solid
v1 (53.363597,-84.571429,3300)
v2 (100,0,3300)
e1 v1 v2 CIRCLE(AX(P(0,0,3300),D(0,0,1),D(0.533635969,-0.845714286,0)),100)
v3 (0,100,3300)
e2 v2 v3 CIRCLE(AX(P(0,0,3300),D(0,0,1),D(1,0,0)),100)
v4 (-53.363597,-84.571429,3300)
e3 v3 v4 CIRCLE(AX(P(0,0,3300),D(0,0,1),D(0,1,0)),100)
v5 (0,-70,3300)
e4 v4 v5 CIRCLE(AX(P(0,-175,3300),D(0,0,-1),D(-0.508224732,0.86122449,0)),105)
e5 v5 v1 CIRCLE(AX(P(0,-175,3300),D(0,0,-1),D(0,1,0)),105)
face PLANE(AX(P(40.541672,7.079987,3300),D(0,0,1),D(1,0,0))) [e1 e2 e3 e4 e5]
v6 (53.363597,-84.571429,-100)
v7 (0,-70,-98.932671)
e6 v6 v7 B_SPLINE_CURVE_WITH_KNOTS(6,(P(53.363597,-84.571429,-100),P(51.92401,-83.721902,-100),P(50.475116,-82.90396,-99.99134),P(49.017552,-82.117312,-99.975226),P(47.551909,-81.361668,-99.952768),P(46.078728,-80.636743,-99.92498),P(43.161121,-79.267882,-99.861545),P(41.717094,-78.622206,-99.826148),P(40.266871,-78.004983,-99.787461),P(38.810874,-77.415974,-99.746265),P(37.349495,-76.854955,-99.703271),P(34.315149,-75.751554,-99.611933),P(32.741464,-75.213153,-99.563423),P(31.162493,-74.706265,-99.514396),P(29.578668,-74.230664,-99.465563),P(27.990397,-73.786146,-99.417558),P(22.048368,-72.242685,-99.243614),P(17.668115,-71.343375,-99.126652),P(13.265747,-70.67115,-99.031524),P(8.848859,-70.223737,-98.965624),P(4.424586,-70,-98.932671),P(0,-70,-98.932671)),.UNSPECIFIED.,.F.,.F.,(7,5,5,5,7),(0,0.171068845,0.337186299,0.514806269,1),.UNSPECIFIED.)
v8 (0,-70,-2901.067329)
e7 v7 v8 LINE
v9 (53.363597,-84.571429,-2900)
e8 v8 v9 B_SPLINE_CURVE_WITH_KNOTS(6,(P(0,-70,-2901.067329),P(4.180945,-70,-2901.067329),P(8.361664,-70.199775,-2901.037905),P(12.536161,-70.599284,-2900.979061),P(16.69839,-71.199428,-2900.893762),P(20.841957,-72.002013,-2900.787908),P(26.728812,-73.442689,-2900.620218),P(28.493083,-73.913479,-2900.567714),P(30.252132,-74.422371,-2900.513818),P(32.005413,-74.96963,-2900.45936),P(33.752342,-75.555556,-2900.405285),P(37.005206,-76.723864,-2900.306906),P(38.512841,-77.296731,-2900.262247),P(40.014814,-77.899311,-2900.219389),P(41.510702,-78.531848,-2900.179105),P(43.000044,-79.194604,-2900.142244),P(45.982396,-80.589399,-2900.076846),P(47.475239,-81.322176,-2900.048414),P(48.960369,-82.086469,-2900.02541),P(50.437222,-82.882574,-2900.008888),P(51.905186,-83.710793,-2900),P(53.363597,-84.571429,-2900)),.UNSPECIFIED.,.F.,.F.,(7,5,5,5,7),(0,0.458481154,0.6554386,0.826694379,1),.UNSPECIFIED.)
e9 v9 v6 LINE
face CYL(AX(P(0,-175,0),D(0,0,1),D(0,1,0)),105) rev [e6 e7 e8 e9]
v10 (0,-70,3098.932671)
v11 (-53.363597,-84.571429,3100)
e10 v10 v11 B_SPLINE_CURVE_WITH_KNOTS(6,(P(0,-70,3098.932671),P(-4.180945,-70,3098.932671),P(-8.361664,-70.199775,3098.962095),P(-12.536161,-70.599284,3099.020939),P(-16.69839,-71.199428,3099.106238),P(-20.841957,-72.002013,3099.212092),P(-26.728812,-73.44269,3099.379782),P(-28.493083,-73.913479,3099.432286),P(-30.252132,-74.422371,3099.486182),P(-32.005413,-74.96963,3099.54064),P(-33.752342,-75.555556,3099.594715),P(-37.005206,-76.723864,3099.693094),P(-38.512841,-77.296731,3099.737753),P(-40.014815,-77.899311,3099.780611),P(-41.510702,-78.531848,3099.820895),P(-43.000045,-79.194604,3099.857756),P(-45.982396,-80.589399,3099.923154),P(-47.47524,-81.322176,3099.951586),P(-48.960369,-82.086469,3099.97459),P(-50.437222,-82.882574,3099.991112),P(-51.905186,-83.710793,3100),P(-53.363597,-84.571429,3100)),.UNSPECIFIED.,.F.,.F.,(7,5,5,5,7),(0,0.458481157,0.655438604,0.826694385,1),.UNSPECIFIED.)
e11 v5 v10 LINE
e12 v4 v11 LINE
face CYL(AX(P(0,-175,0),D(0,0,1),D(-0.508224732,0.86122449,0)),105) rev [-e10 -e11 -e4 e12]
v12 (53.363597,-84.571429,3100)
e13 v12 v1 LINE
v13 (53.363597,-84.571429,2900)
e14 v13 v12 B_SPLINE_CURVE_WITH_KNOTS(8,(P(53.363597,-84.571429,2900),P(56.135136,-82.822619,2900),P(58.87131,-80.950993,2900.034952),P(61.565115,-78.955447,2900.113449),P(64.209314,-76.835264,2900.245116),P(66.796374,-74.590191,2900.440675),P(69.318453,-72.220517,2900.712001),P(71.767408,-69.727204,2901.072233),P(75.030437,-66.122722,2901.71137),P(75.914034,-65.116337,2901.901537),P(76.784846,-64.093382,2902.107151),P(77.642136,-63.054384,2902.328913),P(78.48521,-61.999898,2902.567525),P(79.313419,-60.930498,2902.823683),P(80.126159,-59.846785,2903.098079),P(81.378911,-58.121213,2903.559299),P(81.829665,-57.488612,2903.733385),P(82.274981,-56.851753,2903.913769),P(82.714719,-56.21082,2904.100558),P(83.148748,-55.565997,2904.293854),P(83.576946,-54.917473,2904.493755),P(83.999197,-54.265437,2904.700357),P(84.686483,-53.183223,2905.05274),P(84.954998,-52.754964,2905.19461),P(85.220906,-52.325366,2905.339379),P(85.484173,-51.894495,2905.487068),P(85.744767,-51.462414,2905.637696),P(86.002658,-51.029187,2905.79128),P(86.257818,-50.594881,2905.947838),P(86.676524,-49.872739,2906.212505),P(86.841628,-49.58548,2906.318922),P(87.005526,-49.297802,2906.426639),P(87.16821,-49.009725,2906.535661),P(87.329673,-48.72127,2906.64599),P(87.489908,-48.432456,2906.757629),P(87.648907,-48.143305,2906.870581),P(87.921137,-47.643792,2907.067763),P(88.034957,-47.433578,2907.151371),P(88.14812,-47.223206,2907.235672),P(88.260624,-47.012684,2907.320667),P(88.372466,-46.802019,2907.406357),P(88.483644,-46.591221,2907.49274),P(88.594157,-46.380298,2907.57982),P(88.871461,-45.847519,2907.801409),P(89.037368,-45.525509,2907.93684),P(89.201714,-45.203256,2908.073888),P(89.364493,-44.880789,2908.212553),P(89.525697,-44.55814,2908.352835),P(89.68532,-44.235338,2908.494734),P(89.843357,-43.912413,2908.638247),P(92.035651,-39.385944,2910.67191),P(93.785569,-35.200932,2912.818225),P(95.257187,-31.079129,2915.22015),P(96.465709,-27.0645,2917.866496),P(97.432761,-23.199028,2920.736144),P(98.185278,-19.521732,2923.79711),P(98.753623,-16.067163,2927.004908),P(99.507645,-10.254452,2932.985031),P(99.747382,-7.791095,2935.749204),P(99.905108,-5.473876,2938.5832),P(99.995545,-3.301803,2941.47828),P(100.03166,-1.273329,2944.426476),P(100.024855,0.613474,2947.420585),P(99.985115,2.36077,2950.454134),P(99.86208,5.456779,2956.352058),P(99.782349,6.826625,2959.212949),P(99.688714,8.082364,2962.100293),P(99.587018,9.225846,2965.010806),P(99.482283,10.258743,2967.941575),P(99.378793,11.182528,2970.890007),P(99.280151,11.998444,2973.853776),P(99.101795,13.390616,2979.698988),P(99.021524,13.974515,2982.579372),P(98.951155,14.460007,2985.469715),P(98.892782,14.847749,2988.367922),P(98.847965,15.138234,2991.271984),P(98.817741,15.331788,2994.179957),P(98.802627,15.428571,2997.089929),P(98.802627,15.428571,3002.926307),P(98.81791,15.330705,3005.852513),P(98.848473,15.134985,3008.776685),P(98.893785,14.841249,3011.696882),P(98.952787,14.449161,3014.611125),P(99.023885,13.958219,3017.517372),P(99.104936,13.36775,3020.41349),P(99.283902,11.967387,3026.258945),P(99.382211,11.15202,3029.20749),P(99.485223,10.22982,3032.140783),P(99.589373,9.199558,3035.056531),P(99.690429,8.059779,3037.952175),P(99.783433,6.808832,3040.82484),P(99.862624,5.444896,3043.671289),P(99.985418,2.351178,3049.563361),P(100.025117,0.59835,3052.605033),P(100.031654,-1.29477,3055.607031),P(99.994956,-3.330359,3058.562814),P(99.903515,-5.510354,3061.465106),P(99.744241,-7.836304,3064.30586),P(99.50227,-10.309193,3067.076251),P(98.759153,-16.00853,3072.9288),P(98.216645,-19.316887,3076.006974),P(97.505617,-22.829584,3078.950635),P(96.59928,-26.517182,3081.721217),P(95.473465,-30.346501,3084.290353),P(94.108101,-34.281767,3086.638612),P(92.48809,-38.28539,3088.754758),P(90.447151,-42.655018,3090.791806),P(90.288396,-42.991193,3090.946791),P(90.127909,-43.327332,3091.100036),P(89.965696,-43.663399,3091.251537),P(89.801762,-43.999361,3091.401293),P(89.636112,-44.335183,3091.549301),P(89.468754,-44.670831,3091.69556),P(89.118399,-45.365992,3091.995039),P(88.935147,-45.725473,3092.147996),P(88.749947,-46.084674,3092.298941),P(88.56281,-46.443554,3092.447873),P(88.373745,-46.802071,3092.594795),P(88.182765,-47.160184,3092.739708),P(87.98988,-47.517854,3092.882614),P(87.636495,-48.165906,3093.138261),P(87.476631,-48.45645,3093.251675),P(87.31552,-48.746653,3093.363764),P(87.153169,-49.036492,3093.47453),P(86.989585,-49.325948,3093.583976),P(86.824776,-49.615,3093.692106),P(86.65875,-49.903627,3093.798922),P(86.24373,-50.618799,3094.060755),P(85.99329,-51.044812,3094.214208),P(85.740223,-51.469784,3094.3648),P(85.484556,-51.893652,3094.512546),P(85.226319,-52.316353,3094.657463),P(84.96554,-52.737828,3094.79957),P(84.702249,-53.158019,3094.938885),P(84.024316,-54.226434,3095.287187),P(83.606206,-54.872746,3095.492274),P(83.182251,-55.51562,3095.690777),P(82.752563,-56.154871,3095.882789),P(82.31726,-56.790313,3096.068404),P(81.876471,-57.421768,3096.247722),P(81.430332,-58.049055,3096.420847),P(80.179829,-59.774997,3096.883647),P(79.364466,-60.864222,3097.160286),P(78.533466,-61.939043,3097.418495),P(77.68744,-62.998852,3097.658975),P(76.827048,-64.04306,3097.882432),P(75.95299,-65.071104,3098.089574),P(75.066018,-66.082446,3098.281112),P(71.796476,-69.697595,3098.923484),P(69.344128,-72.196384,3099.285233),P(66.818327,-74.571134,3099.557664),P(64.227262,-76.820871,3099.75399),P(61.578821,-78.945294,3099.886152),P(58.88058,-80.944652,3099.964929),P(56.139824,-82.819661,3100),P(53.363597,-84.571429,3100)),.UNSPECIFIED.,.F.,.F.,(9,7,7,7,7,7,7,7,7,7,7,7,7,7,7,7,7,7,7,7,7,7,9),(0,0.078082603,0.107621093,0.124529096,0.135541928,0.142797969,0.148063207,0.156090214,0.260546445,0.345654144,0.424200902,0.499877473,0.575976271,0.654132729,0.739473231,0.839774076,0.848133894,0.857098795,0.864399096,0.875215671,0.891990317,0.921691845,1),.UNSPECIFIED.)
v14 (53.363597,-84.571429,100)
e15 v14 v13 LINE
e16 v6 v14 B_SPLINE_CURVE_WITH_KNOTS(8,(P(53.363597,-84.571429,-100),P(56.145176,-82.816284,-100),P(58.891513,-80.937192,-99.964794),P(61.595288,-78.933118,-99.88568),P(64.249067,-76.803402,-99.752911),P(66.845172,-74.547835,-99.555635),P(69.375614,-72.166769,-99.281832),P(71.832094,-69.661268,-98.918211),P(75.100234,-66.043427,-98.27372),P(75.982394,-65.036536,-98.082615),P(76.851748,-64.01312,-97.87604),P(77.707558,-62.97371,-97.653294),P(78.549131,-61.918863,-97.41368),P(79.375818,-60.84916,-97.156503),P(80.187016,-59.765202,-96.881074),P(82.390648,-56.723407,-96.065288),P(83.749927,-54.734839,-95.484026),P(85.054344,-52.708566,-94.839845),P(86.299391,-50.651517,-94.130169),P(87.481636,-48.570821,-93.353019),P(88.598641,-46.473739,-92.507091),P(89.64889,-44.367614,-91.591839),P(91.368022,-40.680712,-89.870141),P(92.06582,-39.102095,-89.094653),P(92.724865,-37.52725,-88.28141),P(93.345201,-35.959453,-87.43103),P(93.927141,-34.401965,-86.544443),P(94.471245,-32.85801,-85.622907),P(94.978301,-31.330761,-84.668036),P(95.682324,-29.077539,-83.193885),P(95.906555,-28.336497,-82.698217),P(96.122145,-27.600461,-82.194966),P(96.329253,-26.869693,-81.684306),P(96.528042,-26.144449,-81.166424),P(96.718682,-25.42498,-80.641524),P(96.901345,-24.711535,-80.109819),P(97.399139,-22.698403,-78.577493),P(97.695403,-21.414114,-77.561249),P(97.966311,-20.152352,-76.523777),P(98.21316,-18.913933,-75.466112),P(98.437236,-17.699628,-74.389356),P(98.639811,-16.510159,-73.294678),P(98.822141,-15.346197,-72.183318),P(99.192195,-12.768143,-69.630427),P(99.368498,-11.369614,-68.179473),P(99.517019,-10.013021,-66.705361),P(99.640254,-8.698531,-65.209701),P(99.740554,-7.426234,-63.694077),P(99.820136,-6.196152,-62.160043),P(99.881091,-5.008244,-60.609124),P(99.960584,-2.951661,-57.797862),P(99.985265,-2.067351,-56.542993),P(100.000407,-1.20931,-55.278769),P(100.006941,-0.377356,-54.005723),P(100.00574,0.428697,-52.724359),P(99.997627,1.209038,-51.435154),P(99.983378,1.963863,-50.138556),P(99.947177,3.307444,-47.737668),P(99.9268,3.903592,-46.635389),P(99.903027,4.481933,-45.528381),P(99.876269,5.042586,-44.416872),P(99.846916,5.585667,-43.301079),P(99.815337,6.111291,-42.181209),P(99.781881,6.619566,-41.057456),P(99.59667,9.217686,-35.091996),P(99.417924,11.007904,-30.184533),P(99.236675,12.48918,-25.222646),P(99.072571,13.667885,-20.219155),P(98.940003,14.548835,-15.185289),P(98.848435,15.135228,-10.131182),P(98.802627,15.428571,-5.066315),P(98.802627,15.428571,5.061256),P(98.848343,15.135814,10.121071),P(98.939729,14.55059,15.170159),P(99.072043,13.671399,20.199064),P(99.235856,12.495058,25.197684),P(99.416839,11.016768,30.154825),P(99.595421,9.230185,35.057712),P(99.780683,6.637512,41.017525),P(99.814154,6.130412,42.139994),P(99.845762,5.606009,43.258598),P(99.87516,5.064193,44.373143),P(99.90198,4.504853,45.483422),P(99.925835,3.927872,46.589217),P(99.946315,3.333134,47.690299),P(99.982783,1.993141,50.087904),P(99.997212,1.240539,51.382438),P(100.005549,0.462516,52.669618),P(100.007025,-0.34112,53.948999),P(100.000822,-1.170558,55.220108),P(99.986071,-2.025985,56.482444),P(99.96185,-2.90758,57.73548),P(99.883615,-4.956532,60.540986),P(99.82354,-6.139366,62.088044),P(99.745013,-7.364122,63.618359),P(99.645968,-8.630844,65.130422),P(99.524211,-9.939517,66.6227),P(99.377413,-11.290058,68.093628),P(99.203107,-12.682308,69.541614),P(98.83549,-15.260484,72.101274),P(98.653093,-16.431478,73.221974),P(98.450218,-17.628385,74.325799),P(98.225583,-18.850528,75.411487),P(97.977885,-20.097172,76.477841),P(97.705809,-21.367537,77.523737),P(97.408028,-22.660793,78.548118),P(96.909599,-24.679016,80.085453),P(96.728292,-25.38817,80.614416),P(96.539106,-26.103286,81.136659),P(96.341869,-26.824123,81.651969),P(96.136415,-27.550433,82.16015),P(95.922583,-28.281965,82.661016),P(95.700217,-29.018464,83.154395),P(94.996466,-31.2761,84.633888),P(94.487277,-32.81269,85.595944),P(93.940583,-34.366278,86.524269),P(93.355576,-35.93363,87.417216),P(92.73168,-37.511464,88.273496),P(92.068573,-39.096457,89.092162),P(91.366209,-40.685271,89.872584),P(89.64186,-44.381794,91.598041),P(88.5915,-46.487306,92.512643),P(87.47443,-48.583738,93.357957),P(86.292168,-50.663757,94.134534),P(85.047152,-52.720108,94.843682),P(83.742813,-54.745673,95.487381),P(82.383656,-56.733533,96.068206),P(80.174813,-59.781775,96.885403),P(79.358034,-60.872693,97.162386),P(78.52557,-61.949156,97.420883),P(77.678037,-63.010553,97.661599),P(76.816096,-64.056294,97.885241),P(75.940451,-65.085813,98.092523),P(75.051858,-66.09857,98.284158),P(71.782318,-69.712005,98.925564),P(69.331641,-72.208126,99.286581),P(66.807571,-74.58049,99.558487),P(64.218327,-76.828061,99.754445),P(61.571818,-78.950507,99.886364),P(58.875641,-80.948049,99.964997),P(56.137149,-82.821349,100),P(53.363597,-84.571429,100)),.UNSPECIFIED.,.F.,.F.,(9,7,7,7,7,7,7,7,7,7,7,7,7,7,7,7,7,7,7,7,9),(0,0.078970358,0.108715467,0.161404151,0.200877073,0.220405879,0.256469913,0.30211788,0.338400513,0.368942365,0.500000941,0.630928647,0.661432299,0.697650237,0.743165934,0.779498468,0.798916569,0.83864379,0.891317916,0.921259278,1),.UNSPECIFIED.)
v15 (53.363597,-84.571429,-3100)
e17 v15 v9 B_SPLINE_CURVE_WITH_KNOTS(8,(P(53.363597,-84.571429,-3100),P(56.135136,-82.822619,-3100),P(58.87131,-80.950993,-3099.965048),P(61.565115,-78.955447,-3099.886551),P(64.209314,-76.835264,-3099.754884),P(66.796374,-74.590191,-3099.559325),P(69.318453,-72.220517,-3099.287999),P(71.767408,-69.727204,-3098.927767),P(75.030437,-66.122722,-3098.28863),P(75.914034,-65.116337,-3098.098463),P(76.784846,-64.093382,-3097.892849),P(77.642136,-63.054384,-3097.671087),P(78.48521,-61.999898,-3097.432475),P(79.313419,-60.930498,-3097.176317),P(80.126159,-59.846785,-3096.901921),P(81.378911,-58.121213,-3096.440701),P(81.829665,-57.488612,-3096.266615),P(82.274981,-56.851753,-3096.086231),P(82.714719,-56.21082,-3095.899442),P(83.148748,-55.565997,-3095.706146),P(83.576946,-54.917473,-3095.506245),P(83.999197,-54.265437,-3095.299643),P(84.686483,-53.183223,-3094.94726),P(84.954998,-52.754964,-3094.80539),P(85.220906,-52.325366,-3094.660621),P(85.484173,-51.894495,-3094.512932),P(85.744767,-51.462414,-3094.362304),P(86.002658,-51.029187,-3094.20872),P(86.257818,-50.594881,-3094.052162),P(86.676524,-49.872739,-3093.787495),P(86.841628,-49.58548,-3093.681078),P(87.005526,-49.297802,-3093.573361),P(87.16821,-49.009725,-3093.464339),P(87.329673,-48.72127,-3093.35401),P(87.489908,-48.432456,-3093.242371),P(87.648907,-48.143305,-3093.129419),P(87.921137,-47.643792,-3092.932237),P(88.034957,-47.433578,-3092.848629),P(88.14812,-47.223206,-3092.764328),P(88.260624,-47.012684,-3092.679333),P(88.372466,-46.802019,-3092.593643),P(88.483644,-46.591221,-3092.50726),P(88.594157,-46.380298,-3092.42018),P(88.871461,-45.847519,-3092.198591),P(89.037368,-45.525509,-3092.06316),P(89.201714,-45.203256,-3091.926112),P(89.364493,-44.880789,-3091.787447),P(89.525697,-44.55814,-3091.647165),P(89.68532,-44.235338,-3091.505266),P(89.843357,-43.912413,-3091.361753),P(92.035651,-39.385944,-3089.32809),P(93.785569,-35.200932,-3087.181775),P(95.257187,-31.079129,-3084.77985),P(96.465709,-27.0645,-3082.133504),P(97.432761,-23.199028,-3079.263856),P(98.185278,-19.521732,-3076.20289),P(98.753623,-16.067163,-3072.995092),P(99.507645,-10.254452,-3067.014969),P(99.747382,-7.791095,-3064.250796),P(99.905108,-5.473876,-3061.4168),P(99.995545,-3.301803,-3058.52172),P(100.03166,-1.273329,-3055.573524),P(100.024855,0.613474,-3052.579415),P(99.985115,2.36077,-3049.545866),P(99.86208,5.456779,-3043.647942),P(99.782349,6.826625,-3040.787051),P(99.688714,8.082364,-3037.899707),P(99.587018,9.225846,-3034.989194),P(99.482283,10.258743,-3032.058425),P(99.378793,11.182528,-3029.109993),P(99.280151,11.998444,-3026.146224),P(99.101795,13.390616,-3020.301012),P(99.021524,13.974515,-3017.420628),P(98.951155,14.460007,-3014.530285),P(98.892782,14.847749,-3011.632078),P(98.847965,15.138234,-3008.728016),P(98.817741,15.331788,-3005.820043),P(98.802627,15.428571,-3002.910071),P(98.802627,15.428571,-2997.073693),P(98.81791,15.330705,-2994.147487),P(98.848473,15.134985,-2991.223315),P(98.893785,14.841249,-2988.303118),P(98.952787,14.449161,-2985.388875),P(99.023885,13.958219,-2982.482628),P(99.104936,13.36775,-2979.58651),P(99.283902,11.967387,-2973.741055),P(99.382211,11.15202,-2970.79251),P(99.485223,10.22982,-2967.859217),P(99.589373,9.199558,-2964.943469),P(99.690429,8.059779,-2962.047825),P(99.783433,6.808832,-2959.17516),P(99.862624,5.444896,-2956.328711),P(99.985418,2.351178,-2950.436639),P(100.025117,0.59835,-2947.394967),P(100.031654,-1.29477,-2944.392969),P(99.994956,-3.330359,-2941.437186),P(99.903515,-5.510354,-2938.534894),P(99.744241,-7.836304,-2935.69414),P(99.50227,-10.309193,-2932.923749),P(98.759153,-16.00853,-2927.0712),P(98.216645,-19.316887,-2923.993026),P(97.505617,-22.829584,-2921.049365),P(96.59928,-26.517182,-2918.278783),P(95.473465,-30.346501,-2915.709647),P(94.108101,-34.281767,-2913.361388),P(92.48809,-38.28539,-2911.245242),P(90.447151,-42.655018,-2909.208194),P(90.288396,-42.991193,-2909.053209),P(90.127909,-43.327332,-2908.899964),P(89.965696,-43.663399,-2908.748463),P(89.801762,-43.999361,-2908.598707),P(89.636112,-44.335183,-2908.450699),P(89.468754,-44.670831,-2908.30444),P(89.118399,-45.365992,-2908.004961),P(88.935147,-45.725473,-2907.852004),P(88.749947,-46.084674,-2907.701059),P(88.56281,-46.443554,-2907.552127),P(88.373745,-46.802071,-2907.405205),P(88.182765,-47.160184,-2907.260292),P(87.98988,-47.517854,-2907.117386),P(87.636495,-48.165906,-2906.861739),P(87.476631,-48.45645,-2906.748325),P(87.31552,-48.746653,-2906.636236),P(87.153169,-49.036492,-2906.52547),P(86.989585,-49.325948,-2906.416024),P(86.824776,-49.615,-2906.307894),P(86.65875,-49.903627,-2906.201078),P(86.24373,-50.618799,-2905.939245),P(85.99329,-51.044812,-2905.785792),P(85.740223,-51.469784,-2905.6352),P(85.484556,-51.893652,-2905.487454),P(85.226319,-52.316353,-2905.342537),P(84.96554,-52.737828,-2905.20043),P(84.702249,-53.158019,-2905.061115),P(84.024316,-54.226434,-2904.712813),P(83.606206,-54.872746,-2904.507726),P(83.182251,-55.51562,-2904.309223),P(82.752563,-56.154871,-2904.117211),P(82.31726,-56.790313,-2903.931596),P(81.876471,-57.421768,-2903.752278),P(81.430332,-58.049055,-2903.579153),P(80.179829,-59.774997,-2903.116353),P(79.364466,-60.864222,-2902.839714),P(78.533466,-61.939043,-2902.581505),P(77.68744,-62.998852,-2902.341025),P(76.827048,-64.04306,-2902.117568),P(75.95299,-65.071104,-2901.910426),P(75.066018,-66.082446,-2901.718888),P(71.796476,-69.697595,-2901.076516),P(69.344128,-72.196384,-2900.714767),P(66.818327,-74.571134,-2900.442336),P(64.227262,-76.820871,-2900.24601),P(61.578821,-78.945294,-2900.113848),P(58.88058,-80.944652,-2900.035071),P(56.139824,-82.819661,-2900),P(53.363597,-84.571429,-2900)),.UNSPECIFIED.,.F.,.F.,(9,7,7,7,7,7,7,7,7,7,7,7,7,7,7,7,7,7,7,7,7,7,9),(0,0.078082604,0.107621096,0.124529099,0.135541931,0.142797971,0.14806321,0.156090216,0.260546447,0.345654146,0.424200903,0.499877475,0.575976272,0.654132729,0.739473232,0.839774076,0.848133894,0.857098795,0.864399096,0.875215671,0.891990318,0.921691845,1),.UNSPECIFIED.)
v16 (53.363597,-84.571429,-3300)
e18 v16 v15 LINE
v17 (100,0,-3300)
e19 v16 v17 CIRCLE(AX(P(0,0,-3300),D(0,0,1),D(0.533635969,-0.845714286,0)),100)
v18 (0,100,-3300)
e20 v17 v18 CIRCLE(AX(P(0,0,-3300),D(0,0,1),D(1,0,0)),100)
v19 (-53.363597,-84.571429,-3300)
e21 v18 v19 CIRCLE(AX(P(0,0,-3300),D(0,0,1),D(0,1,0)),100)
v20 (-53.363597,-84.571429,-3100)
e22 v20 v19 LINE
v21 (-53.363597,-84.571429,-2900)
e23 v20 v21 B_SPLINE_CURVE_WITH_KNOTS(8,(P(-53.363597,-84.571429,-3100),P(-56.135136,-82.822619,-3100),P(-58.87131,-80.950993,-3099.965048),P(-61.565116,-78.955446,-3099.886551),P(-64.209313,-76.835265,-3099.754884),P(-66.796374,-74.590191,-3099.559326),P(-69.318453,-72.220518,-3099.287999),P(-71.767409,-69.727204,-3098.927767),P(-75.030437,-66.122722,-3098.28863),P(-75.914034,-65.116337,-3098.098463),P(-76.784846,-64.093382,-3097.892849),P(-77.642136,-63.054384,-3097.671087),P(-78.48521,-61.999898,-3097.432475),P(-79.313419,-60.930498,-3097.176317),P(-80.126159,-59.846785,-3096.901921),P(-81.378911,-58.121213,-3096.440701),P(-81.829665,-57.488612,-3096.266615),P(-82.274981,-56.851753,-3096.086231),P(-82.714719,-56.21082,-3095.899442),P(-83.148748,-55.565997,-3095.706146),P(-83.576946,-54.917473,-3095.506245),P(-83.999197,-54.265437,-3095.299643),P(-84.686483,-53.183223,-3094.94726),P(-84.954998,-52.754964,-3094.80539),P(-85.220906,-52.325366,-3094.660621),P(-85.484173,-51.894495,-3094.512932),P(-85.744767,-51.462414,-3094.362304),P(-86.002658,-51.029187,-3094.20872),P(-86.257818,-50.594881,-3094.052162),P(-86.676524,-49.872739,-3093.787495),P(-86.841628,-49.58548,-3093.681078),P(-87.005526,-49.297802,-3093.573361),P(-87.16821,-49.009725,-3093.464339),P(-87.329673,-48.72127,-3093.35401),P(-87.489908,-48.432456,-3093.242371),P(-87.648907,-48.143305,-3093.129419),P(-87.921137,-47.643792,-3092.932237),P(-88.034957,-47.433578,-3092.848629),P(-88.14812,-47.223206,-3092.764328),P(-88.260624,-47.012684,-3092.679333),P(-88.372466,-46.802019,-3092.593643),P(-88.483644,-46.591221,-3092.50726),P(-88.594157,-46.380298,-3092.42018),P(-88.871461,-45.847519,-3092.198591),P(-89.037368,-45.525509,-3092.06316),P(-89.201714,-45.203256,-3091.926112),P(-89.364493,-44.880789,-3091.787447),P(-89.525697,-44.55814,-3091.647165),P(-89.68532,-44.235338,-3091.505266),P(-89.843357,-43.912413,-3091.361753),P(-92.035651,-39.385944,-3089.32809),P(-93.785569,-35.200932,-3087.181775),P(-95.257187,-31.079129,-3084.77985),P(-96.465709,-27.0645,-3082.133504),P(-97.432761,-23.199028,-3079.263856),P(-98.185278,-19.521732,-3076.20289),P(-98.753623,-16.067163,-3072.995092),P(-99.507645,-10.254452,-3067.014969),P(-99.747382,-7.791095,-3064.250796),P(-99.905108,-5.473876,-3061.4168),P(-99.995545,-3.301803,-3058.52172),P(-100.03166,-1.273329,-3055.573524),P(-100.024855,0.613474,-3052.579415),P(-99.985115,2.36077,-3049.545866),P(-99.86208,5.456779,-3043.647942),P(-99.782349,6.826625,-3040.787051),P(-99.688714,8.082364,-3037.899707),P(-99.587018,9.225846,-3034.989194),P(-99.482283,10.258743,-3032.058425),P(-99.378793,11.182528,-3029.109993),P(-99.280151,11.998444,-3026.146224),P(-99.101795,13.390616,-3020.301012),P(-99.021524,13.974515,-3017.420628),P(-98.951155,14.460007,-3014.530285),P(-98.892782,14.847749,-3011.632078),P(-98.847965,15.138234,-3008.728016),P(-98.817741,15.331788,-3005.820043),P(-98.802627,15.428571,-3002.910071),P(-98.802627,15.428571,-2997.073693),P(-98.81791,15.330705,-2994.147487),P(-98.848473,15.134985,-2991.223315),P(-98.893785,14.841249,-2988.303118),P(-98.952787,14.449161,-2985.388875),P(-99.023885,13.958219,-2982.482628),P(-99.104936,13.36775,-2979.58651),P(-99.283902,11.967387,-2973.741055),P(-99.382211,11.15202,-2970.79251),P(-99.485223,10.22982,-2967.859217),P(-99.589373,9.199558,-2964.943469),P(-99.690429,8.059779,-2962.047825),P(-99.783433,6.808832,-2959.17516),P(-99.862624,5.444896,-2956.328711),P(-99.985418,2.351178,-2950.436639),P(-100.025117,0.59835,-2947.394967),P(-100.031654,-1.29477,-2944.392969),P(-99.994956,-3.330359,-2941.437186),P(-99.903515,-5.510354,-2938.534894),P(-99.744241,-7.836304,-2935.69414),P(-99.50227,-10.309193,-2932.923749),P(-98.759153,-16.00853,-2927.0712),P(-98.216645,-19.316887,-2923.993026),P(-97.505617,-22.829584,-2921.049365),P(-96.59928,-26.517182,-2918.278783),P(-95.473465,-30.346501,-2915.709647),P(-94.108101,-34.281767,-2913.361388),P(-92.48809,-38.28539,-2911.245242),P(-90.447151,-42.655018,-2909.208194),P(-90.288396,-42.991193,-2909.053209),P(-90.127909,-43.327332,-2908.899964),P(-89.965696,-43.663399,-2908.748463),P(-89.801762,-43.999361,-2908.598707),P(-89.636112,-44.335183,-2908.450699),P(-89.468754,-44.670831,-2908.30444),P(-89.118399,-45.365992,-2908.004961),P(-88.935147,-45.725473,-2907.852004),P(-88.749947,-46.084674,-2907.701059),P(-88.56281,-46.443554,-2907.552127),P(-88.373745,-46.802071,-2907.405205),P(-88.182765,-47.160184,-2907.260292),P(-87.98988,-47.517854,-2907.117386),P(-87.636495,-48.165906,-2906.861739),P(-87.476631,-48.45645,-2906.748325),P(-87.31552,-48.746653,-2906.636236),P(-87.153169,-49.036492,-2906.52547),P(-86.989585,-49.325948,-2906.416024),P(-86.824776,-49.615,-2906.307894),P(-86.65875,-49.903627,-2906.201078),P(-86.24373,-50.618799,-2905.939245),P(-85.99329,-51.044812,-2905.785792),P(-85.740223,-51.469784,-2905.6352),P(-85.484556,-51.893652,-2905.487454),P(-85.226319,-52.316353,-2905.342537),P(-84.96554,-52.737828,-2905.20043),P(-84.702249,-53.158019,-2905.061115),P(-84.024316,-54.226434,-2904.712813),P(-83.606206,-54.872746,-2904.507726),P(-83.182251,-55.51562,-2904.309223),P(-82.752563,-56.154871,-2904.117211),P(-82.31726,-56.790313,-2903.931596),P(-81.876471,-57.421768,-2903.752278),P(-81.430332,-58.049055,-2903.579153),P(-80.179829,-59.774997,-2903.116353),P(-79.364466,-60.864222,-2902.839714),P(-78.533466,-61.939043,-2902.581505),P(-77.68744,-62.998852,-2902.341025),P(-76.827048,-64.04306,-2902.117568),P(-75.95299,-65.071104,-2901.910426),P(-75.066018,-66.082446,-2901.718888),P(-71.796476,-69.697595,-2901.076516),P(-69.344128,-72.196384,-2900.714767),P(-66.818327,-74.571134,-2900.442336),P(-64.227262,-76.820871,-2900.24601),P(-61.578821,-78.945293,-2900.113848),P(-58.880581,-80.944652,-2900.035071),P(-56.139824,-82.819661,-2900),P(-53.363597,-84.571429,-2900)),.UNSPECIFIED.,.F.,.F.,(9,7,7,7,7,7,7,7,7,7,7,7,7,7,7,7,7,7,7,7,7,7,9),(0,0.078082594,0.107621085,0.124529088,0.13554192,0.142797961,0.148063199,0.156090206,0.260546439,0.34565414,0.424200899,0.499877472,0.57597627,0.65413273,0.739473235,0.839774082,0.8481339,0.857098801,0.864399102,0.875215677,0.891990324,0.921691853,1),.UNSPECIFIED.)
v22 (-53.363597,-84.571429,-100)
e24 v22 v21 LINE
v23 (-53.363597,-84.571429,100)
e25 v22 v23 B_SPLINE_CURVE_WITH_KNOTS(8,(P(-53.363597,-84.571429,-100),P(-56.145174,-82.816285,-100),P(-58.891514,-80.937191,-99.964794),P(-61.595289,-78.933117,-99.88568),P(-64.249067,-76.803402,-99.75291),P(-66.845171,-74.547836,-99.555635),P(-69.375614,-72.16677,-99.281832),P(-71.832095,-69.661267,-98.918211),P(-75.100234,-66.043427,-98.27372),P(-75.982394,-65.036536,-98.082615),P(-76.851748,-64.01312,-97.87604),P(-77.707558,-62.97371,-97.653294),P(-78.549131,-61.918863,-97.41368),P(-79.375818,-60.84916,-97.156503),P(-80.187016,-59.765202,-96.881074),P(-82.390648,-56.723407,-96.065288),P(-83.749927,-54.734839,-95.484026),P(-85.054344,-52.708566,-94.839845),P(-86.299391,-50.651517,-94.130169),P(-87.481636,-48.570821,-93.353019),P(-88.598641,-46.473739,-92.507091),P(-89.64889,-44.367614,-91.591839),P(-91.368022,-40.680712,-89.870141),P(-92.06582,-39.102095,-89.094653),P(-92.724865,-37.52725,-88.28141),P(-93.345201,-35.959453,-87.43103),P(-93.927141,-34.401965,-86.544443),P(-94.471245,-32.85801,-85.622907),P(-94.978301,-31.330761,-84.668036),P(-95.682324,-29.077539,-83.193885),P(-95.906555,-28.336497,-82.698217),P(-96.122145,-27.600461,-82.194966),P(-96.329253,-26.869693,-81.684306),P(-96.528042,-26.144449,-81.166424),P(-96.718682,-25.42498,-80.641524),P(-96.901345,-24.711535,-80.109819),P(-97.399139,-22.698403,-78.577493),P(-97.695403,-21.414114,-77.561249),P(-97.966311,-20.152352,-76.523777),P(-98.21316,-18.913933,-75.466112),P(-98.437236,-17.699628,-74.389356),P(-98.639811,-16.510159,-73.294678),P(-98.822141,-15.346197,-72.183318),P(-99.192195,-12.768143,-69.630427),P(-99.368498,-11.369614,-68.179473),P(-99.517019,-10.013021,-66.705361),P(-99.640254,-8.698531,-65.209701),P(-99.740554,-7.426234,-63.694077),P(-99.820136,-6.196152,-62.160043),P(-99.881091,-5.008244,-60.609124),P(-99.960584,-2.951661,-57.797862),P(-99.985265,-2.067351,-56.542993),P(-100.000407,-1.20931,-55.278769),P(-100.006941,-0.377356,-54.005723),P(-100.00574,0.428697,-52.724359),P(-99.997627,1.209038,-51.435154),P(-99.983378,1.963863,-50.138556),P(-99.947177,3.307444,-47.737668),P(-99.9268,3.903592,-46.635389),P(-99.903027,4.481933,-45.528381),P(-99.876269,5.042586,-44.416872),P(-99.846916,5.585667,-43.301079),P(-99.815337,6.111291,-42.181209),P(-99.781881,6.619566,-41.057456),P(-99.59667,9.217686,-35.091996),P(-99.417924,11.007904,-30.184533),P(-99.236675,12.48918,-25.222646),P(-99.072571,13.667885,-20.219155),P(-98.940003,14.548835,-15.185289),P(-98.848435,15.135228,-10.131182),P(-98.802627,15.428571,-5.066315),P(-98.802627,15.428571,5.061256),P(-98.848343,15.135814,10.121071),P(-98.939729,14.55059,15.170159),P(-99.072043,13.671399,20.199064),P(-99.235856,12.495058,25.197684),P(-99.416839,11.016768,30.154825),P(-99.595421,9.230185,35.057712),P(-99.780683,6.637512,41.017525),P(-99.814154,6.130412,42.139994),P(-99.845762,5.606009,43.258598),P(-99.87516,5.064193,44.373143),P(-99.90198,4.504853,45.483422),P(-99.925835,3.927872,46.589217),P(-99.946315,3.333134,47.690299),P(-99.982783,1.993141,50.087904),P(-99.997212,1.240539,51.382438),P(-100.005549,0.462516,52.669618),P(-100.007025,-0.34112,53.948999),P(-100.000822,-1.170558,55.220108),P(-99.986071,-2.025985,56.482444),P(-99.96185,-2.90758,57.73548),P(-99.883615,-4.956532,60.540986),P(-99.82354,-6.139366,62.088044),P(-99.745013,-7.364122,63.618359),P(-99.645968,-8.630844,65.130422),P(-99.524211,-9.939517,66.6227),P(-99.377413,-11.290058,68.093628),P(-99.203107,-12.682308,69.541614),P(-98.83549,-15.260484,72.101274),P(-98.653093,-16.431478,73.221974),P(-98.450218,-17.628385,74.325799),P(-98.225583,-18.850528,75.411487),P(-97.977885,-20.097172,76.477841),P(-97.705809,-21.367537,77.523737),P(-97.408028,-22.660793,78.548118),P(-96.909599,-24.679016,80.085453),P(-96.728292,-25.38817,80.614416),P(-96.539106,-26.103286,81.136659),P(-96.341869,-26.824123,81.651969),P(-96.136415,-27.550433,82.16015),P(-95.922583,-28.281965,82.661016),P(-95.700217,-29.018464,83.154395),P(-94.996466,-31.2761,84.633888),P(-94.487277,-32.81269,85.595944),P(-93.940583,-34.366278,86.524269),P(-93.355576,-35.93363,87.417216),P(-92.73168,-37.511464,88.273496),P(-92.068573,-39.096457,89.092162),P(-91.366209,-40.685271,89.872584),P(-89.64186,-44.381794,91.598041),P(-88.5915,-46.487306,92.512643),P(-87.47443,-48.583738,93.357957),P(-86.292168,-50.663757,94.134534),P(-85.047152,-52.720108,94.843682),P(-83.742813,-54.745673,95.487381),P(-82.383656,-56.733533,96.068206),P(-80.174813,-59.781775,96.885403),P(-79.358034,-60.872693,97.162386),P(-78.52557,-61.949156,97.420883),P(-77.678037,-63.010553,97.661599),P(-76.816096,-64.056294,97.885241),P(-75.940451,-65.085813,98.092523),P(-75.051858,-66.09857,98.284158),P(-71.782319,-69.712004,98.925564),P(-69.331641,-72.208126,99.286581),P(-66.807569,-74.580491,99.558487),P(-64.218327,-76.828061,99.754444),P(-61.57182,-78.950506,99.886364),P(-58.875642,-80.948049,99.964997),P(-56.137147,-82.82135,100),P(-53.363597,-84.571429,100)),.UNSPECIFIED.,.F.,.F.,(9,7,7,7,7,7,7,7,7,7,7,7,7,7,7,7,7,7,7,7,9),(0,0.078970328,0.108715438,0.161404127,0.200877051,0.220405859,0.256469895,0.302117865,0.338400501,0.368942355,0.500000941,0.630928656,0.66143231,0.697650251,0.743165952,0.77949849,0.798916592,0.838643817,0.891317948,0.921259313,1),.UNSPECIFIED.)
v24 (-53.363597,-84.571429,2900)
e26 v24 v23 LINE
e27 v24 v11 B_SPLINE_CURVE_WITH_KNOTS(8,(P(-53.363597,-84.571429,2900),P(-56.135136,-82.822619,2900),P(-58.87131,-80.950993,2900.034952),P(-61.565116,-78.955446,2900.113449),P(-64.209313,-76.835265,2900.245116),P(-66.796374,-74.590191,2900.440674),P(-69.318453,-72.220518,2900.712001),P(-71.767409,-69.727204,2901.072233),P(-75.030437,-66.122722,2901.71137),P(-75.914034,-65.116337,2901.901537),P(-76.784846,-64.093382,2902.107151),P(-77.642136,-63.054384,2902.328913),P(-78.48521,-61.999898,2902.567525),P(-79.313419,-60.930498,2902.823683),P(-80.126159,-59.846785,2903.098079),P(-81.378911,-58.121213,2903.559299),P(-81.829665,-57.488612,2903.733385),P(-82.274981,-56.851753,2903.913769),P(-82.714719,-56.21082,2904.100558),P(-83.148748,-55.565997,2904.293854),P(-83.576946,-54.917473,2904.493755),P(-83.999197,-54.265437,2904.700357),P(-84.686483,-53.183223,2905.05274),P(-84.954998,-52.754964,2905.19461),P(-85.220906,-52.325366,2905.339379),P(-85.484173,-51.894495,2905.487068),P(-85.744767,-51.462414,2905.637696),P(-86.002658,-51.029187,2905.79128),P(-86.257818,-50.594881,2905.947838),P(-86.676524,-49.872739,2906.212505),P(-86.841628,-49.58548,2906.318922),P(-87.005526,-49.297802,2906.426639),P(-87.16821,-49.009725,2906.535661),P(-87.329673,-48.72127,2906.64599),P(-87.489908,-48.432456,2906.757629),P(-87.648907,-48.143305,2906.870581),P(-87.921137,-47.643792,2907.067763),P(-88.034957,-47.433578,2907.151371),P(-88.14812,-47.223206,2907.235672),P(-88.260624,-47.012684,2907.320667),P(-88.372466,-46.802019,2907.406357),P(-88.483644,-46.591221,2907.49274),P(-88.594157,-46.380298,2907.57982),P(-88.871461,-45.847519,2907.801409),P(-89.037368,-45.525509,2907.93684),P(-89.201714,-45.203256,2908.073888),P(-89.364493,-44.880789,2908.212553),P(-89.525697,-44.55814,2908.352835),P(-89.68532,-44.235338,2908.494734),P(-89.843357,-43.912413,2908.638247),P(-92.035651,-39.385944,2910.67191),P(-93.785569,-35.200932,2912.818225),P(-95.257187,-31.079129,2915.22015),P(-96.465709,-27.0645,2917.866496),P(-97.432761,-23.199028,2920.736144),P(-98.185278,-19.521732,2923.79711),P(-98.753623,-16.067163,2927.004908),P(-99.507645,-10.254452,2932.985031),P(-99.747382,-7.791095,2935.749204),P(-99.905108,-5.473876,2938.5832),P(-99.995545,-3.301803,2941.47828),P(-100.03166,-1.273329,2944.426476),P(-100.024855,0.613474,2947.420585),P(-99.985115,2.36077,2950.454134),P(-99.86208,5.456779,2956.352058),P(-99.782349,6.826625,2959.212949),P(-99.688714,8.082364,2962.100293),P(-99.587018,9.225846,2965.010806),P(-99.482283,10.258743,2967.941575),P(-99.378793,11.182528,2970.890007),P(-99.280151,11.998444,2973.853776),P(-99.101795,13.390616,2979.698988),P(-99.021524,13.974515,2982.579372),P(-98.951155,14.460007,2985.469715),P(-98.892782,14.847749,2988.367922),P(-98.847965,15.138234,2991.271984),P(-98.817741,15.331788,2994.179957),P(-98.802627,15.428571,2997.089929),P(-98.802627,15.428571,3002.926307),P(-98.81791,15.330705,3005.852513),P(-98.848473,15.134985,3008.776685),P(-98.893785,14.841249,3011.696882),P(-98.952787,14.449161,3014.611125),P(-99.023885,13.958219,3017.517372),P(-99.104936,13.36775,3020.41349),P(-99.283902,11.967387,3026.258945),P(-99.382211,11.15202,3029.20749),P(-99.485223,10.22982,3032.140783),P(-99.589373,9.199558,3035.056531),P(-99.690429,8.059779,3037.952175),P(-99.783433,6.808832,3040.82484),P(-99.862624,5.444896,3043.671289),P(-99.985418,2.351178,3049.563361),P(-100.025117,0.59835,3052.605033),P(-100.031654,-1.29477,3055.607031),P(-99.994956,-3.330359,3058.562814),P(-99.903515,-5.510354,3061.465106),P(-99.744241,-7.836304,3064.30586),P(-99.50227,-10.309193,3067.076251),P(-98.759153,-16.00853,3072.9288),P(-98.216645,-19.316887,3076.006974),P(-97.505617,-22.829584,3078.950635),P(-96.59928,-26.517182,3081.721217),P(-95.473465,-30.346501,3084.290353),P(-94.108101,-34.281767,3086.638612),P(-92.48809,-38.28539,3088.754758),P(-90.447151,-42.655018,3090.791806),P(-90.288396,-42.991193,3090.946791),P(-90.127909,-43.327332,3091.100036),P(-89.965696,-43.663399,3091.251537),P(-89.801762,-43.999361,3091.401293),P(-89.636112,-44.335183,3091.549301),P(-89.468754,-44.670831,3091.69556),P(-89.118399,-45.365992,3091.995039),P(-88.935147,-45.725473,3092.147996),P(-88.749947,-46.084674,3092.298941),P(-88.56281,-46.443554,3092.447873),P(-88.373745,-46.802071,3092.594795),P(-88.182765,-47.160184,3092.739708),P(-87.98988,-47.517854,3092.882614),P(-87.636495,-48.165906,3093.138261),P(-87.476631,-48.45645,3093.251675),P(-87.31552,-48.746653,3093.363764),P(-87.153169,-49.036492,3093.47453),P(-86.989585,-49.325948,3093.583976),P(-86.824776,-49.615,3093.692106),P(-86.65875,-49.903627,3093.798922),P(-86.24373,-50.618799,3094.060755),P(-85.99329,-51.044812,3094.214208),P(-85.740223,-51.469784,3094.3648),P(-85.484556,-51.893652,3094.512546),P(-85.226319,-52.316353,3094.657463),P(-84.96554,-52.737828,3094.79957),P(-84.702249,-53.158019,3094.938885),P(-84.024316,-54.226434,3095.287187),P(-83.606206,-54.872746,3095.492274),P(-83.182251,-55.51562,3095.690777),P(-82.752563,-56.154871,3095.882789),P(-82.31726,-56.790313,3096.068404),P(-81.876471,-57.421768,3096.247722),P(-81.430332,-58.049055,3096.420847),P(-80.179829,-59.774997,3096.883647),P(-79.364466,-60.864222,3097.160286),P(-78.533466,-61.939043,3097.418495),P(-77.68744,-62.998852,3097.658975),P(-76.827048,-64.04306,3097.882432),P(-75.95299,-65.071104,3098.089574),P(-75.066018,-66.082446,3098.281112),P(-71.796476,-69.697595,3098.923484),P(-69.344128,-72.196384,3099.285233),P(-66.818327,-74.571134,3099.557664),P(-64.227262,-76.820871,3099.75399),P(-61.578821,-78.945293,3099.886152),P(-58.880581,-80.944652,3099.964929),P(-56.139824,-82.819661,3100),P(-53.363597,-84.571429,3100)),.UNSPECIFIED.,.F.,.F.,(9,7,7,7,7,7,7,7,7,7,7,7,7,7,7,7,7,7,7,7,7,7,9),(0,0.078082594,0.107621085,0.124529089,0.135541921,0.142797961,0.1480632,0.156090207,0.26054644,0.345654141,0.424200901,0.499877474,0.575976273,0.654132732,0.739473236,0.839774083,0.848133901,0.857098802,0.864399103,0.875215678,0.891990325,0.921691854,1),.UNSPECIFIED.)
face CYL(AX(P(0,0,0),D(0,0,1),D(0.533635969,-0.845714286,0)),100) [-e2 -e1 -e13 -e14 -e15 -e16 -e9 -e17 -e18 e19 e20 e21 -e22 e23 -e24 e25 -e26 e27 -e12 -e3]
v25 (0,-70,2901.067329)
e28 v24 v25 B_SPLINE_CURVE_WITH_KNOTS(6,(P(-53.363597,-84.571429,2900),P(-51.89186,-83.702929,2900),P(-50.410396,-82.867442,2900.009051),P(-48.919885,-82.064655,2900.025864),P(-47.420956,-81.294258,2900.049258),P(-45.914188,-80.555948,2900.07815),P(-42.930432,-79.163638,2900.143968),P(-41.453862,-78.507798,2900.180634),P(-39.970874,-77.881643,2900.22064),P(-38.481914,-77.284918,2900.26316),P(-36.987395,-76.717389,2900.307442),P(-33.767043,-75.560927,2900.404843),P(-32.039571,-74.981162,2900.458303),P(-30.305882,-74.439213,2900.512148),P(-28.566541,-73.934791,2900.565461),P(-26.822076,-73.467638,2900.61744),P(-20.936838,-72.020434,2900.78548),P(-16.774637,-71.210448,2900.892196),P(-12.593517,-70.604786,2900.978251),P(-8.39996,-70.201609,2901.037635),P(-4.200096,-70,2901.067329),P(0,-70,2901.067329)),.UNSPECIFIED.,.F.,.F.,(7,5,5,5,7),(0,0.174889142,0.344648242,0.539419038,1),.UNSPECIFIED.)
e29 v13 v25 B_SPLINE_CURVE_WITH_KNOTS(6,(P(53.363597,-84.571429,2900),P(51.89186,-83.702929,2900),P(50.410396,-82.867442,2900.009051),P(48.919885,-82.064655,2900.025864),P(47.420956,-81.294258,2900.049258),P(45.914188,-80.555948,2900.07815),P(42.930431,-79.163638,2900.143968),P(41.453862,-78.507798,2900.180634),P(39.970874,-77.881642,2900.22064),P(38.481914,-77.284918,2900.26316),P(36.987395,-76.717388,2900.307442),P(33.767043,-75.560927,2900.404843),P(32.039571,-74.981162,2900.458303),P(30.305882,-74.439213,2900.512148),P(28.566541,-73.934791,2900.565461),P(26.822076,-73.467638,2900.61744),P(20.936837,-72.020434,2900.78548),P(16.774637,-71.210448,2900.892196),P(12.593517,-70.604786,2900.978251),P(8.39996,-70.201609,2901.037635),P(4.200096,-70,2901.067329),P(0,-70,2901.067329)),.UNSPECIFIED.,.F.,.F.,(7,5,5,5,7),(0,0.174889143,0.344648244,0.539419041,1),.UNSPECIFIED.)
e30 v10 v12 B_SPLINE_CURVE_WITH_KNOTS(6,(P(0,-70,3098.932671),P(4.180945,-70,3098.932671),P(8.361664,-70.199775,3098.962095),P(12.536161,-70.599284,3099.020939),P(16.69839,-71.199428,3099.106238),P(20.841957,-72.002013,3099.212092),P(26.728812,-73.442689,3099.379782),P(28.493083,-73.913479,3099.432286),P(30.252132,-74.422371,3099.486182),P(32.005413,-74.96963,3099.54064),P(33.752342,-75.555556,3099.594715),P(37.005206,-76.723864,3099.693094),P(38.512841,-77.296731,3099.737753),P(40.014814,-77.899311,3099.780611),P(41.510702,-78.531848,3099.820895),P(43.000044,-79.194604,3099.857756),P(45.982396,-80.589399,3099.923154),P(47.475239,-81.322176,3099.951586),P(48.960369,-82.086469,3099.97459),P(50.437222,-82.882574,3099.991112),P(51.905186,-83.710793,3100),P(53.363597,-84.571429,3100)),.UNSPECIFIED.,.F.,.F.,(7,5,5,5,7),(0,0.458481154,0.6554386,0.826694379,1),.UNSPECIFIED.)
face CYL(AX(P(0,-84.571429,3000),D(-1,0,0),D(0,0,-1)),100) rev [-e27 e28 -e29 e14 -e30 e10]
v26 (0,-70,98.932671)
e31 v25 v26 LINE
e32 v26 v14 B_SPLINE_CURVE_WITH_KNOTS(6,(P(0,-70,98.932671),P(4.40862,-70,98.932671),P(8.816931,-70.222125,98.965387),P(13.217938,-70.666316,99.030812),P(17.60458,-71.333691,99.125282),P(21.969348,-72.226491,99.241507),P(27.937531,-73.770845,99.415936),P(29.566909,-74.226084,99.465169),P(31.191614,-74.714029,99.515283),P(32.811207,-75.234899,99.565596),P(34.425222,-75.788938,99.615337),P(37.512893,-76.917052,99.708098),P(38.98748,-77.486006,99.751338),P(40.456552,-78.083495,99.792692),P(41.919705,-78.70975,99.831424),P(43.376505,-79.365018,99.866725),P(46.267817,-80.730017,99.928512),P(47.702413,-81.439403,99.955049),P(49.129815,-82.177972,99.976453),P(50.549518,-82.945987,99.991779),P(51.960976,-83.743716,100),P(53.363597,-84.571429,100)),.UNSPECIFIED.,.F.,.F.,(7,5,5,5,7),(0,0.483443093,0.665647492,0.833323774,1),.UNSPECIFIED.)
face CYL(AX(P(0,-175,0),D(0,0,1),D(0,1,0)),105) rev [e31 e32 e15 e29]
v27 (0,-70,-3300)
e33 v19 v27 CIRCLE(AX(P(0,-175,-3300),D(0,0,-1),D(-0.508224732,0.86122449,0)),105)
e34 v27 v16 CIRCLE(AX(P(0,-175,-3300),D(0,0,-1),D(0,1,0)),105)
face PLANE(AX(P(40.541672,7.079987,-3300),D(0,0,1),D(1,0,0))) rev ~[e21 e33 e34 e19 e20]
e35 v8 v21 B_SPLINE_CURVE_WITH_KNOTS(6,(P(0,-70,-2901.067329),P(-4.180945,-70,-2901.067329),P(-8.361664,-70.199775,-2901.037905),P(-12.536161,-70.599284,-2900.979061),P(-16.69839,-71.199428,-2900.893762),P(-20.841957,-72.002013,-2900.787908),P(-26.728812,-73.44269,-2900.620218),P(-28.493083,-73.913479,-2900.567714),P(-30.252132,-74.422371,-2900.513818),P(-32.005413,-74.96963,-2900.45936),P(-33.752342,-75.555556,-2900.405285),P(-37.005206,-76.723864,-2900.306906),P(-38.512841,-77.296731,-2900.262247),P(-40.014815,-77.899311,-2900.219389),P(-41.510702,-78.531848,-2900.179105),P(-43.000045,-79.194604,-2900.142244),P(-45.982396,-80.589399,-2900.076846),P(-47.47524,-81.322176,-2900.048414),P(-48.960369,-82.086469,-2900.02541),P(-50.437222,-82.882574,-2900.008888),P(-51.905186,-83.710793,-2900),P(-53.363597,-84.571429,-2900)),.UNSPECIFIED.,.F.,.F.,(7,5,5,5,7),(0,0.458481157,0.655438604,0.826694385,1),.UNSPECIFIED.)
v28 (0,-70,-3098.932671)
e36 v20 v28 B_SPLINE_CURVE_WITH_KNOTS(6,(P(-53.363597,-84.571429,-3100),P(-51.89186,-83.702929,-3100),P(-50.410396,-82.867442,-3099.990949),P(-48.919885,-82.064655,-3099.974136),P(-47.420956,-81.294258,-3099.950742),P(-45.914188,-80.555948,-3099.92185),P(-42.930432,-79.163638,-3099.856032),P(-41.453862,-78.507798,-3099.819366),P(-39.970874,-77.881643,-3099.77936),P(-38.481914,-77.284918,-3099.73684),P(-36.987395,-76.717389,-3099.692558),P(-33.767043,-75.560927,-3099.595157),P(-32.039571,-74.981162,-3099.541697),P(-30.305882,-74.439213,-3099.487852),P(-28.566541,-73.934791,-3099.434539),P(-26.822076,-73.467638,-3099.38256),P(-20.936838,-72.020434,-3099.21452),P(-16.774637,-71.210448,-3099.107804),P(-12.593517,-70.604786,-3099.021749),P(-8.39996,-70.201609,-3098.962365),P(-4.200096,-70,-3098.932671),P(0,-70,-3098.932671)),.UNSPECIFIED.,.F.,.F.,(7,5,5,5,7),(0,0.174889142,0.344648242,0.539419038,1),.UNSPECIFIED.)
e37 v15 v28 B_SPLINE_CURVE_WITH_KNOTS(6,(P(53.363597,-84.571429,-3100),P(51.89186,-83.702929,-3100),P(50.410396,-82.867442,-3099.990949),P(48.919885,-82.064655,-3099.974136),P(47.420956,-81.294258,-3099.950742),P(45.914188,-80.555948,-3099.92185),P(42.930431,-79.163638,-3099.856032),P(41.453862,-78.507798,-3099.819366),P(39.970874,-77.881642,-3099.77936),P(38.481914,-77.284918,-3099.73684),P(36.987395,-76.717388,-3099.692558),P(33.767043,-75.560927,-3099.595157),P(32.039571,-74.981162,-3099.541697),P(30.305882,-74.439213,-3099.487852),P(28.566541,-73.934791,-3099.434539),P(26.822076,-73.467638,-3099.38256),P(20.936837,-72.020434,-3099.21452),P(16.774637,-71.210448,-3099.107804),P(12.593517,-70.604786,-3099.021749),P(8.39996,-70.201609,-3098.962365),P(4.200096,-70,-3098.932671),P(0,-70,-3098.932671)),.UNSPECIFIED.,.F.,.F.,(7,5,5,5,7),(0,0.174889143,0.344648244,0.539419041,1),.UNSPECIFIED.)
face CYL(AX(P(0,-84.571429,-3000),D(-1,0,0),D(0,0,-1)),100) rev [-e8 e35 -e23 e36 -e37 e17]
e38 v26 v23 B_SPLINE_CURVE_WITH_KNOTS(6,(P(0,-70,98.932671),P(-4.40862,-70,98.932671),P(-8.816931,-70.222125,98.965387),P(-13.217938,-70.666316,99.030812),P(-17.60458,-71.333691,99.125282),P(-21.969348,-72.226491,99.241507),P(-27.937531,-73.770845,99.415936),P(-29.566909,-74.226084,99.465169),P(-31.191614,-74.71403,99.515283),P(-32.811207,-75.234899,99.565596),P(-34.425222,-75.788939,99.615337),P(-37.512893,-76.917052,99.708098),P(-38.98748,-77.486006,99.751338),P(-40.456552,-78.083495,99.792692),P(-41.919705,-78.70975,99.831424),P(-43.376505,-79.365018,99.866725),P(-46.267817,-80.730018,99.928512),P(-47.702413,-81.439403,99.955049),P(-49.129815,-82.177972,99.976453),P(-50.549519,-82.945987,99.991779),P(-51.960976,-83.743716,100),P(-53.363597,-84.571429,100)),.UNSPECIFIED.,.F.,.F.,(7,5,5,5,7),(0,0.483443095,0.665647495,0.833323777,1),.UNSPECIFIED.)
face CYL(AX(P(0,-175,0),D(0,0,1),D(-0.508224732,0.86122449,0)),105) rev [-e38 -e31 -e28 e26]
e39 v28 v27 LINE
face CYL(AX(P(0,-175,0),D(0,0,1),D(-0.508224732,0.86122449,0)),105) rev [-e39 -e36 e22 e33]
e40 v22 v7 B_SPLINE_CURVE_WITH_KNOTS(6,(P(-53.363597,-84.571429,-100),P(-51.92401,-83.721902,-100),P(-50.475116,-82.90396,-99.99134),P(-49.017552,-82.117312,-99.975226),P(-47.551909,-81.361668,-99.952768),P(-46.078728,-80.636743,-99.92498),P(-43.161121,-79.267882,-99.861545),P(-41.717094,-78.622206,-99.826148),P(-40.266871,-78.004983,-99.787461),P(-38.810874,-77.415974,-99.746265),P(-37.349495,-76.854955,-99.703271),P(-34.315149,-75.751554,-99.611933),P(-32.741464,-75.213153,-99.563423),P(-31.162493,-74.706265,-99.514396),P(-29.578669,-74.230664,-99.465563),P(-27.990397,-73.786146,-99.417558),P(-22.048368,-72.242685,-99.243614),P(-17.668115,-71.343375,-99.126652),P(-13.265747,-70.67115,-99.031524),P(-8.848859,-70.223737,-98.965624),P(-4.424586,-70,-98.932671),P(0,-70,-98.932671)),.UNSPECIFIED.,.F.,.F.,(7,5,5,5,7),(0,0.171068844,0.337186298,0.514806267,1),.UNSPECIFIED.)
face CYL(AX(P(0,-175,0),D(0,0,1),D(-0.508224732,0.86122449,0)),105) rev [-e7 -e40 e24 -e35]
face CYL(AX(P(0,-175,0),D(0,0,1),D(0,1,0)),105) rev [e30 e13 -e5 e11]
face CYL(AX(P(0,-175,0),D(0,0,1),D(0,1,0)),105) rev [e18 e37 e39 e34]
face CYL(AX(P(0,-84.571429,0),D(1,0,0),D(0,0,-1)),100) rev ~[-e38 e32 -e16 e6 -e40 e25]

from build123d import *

# Parameters (mm, degrees)
EXTRUDE_1_DEPTH     = 3300
SKETCH_2_R          = 100
CUT_EXTRUDE_1_DEPTH = 3000


with BuildPart() as part:
    # Эскиз1 → Бобышка-Вытянуть1 (new, symmetric)
    with BuildSketch(Plane.XY):
        with BuildLine():
            ThreePointArc((100, 0), (70.710678119, 70.710678119), (0, 100))
            Line((0, 100), (0, -70))
            ThreePointArc((0, -70), (27.658633372, -73.708341903), (53.363596856, -84.571428571))
            ThreePointArc((53.363596856, -84.571428571), (87.568143995, -48.288923753), (100, 0))
        make_face()
        with BuildLine():
            Line((0, -70), (0, 100))
            ThreePointArc((0, 100), (-96.065453877, 27.774602993), (-53.363596856, -84.571428571))
            ThreePointArc((-53.363596856, -84.571428571), (-27.658633372, -73.708341903), (0, -70))
        make_face()
        with BuildLine():
            ThreePointArc((100, 0), (70.710678119, 70.710678119), (0, 100))
            Line((0, 100), (0, -70))
            ThreePointArc((0, -70), (27.658633372, -73.708341903), (53.363596856, -84.571428571))
            ThreePointArc((53.363596856, -84.571428571), (87.568143995, -48.288923753), (100, 0))
        make_face()
        with BuildLine():
            Line((0, -70), (0, 100))
            ThreePointArc((0, 100), (-96.065453877, 27.774602993), (-53.363596856, -84.571428571))
            ThreePointArc((-53.363596856, -84.571428571), (-27.658633372, -73.708341903), (0, -70))
        make_face()
    extrude(amount=EXTRUDE_1_DEPTH, both=True)

    # Эскиз2 → Вырез-Вытянуть1 (cut, symmetric)
    with BuildSketch(Plane(origin=(0, 0, 0), x_dir=(0, 0, -1), z_dir=(1, 0, 0))):
        with Locations((-3000, -84.571428571)):
            Circle(SKETCH_2_R)
        with Locations((3000, -84.571428571)):
            Circle(SKETCH_2_R)
        with Locations((0, -84.571428571)):
            Circle(SKETCH_2_R)
    extrude(amount=CUT_EXTRUDE_1_DEPTH, both=True, mode=Mode.SUBTRACT)


solid = part.part
